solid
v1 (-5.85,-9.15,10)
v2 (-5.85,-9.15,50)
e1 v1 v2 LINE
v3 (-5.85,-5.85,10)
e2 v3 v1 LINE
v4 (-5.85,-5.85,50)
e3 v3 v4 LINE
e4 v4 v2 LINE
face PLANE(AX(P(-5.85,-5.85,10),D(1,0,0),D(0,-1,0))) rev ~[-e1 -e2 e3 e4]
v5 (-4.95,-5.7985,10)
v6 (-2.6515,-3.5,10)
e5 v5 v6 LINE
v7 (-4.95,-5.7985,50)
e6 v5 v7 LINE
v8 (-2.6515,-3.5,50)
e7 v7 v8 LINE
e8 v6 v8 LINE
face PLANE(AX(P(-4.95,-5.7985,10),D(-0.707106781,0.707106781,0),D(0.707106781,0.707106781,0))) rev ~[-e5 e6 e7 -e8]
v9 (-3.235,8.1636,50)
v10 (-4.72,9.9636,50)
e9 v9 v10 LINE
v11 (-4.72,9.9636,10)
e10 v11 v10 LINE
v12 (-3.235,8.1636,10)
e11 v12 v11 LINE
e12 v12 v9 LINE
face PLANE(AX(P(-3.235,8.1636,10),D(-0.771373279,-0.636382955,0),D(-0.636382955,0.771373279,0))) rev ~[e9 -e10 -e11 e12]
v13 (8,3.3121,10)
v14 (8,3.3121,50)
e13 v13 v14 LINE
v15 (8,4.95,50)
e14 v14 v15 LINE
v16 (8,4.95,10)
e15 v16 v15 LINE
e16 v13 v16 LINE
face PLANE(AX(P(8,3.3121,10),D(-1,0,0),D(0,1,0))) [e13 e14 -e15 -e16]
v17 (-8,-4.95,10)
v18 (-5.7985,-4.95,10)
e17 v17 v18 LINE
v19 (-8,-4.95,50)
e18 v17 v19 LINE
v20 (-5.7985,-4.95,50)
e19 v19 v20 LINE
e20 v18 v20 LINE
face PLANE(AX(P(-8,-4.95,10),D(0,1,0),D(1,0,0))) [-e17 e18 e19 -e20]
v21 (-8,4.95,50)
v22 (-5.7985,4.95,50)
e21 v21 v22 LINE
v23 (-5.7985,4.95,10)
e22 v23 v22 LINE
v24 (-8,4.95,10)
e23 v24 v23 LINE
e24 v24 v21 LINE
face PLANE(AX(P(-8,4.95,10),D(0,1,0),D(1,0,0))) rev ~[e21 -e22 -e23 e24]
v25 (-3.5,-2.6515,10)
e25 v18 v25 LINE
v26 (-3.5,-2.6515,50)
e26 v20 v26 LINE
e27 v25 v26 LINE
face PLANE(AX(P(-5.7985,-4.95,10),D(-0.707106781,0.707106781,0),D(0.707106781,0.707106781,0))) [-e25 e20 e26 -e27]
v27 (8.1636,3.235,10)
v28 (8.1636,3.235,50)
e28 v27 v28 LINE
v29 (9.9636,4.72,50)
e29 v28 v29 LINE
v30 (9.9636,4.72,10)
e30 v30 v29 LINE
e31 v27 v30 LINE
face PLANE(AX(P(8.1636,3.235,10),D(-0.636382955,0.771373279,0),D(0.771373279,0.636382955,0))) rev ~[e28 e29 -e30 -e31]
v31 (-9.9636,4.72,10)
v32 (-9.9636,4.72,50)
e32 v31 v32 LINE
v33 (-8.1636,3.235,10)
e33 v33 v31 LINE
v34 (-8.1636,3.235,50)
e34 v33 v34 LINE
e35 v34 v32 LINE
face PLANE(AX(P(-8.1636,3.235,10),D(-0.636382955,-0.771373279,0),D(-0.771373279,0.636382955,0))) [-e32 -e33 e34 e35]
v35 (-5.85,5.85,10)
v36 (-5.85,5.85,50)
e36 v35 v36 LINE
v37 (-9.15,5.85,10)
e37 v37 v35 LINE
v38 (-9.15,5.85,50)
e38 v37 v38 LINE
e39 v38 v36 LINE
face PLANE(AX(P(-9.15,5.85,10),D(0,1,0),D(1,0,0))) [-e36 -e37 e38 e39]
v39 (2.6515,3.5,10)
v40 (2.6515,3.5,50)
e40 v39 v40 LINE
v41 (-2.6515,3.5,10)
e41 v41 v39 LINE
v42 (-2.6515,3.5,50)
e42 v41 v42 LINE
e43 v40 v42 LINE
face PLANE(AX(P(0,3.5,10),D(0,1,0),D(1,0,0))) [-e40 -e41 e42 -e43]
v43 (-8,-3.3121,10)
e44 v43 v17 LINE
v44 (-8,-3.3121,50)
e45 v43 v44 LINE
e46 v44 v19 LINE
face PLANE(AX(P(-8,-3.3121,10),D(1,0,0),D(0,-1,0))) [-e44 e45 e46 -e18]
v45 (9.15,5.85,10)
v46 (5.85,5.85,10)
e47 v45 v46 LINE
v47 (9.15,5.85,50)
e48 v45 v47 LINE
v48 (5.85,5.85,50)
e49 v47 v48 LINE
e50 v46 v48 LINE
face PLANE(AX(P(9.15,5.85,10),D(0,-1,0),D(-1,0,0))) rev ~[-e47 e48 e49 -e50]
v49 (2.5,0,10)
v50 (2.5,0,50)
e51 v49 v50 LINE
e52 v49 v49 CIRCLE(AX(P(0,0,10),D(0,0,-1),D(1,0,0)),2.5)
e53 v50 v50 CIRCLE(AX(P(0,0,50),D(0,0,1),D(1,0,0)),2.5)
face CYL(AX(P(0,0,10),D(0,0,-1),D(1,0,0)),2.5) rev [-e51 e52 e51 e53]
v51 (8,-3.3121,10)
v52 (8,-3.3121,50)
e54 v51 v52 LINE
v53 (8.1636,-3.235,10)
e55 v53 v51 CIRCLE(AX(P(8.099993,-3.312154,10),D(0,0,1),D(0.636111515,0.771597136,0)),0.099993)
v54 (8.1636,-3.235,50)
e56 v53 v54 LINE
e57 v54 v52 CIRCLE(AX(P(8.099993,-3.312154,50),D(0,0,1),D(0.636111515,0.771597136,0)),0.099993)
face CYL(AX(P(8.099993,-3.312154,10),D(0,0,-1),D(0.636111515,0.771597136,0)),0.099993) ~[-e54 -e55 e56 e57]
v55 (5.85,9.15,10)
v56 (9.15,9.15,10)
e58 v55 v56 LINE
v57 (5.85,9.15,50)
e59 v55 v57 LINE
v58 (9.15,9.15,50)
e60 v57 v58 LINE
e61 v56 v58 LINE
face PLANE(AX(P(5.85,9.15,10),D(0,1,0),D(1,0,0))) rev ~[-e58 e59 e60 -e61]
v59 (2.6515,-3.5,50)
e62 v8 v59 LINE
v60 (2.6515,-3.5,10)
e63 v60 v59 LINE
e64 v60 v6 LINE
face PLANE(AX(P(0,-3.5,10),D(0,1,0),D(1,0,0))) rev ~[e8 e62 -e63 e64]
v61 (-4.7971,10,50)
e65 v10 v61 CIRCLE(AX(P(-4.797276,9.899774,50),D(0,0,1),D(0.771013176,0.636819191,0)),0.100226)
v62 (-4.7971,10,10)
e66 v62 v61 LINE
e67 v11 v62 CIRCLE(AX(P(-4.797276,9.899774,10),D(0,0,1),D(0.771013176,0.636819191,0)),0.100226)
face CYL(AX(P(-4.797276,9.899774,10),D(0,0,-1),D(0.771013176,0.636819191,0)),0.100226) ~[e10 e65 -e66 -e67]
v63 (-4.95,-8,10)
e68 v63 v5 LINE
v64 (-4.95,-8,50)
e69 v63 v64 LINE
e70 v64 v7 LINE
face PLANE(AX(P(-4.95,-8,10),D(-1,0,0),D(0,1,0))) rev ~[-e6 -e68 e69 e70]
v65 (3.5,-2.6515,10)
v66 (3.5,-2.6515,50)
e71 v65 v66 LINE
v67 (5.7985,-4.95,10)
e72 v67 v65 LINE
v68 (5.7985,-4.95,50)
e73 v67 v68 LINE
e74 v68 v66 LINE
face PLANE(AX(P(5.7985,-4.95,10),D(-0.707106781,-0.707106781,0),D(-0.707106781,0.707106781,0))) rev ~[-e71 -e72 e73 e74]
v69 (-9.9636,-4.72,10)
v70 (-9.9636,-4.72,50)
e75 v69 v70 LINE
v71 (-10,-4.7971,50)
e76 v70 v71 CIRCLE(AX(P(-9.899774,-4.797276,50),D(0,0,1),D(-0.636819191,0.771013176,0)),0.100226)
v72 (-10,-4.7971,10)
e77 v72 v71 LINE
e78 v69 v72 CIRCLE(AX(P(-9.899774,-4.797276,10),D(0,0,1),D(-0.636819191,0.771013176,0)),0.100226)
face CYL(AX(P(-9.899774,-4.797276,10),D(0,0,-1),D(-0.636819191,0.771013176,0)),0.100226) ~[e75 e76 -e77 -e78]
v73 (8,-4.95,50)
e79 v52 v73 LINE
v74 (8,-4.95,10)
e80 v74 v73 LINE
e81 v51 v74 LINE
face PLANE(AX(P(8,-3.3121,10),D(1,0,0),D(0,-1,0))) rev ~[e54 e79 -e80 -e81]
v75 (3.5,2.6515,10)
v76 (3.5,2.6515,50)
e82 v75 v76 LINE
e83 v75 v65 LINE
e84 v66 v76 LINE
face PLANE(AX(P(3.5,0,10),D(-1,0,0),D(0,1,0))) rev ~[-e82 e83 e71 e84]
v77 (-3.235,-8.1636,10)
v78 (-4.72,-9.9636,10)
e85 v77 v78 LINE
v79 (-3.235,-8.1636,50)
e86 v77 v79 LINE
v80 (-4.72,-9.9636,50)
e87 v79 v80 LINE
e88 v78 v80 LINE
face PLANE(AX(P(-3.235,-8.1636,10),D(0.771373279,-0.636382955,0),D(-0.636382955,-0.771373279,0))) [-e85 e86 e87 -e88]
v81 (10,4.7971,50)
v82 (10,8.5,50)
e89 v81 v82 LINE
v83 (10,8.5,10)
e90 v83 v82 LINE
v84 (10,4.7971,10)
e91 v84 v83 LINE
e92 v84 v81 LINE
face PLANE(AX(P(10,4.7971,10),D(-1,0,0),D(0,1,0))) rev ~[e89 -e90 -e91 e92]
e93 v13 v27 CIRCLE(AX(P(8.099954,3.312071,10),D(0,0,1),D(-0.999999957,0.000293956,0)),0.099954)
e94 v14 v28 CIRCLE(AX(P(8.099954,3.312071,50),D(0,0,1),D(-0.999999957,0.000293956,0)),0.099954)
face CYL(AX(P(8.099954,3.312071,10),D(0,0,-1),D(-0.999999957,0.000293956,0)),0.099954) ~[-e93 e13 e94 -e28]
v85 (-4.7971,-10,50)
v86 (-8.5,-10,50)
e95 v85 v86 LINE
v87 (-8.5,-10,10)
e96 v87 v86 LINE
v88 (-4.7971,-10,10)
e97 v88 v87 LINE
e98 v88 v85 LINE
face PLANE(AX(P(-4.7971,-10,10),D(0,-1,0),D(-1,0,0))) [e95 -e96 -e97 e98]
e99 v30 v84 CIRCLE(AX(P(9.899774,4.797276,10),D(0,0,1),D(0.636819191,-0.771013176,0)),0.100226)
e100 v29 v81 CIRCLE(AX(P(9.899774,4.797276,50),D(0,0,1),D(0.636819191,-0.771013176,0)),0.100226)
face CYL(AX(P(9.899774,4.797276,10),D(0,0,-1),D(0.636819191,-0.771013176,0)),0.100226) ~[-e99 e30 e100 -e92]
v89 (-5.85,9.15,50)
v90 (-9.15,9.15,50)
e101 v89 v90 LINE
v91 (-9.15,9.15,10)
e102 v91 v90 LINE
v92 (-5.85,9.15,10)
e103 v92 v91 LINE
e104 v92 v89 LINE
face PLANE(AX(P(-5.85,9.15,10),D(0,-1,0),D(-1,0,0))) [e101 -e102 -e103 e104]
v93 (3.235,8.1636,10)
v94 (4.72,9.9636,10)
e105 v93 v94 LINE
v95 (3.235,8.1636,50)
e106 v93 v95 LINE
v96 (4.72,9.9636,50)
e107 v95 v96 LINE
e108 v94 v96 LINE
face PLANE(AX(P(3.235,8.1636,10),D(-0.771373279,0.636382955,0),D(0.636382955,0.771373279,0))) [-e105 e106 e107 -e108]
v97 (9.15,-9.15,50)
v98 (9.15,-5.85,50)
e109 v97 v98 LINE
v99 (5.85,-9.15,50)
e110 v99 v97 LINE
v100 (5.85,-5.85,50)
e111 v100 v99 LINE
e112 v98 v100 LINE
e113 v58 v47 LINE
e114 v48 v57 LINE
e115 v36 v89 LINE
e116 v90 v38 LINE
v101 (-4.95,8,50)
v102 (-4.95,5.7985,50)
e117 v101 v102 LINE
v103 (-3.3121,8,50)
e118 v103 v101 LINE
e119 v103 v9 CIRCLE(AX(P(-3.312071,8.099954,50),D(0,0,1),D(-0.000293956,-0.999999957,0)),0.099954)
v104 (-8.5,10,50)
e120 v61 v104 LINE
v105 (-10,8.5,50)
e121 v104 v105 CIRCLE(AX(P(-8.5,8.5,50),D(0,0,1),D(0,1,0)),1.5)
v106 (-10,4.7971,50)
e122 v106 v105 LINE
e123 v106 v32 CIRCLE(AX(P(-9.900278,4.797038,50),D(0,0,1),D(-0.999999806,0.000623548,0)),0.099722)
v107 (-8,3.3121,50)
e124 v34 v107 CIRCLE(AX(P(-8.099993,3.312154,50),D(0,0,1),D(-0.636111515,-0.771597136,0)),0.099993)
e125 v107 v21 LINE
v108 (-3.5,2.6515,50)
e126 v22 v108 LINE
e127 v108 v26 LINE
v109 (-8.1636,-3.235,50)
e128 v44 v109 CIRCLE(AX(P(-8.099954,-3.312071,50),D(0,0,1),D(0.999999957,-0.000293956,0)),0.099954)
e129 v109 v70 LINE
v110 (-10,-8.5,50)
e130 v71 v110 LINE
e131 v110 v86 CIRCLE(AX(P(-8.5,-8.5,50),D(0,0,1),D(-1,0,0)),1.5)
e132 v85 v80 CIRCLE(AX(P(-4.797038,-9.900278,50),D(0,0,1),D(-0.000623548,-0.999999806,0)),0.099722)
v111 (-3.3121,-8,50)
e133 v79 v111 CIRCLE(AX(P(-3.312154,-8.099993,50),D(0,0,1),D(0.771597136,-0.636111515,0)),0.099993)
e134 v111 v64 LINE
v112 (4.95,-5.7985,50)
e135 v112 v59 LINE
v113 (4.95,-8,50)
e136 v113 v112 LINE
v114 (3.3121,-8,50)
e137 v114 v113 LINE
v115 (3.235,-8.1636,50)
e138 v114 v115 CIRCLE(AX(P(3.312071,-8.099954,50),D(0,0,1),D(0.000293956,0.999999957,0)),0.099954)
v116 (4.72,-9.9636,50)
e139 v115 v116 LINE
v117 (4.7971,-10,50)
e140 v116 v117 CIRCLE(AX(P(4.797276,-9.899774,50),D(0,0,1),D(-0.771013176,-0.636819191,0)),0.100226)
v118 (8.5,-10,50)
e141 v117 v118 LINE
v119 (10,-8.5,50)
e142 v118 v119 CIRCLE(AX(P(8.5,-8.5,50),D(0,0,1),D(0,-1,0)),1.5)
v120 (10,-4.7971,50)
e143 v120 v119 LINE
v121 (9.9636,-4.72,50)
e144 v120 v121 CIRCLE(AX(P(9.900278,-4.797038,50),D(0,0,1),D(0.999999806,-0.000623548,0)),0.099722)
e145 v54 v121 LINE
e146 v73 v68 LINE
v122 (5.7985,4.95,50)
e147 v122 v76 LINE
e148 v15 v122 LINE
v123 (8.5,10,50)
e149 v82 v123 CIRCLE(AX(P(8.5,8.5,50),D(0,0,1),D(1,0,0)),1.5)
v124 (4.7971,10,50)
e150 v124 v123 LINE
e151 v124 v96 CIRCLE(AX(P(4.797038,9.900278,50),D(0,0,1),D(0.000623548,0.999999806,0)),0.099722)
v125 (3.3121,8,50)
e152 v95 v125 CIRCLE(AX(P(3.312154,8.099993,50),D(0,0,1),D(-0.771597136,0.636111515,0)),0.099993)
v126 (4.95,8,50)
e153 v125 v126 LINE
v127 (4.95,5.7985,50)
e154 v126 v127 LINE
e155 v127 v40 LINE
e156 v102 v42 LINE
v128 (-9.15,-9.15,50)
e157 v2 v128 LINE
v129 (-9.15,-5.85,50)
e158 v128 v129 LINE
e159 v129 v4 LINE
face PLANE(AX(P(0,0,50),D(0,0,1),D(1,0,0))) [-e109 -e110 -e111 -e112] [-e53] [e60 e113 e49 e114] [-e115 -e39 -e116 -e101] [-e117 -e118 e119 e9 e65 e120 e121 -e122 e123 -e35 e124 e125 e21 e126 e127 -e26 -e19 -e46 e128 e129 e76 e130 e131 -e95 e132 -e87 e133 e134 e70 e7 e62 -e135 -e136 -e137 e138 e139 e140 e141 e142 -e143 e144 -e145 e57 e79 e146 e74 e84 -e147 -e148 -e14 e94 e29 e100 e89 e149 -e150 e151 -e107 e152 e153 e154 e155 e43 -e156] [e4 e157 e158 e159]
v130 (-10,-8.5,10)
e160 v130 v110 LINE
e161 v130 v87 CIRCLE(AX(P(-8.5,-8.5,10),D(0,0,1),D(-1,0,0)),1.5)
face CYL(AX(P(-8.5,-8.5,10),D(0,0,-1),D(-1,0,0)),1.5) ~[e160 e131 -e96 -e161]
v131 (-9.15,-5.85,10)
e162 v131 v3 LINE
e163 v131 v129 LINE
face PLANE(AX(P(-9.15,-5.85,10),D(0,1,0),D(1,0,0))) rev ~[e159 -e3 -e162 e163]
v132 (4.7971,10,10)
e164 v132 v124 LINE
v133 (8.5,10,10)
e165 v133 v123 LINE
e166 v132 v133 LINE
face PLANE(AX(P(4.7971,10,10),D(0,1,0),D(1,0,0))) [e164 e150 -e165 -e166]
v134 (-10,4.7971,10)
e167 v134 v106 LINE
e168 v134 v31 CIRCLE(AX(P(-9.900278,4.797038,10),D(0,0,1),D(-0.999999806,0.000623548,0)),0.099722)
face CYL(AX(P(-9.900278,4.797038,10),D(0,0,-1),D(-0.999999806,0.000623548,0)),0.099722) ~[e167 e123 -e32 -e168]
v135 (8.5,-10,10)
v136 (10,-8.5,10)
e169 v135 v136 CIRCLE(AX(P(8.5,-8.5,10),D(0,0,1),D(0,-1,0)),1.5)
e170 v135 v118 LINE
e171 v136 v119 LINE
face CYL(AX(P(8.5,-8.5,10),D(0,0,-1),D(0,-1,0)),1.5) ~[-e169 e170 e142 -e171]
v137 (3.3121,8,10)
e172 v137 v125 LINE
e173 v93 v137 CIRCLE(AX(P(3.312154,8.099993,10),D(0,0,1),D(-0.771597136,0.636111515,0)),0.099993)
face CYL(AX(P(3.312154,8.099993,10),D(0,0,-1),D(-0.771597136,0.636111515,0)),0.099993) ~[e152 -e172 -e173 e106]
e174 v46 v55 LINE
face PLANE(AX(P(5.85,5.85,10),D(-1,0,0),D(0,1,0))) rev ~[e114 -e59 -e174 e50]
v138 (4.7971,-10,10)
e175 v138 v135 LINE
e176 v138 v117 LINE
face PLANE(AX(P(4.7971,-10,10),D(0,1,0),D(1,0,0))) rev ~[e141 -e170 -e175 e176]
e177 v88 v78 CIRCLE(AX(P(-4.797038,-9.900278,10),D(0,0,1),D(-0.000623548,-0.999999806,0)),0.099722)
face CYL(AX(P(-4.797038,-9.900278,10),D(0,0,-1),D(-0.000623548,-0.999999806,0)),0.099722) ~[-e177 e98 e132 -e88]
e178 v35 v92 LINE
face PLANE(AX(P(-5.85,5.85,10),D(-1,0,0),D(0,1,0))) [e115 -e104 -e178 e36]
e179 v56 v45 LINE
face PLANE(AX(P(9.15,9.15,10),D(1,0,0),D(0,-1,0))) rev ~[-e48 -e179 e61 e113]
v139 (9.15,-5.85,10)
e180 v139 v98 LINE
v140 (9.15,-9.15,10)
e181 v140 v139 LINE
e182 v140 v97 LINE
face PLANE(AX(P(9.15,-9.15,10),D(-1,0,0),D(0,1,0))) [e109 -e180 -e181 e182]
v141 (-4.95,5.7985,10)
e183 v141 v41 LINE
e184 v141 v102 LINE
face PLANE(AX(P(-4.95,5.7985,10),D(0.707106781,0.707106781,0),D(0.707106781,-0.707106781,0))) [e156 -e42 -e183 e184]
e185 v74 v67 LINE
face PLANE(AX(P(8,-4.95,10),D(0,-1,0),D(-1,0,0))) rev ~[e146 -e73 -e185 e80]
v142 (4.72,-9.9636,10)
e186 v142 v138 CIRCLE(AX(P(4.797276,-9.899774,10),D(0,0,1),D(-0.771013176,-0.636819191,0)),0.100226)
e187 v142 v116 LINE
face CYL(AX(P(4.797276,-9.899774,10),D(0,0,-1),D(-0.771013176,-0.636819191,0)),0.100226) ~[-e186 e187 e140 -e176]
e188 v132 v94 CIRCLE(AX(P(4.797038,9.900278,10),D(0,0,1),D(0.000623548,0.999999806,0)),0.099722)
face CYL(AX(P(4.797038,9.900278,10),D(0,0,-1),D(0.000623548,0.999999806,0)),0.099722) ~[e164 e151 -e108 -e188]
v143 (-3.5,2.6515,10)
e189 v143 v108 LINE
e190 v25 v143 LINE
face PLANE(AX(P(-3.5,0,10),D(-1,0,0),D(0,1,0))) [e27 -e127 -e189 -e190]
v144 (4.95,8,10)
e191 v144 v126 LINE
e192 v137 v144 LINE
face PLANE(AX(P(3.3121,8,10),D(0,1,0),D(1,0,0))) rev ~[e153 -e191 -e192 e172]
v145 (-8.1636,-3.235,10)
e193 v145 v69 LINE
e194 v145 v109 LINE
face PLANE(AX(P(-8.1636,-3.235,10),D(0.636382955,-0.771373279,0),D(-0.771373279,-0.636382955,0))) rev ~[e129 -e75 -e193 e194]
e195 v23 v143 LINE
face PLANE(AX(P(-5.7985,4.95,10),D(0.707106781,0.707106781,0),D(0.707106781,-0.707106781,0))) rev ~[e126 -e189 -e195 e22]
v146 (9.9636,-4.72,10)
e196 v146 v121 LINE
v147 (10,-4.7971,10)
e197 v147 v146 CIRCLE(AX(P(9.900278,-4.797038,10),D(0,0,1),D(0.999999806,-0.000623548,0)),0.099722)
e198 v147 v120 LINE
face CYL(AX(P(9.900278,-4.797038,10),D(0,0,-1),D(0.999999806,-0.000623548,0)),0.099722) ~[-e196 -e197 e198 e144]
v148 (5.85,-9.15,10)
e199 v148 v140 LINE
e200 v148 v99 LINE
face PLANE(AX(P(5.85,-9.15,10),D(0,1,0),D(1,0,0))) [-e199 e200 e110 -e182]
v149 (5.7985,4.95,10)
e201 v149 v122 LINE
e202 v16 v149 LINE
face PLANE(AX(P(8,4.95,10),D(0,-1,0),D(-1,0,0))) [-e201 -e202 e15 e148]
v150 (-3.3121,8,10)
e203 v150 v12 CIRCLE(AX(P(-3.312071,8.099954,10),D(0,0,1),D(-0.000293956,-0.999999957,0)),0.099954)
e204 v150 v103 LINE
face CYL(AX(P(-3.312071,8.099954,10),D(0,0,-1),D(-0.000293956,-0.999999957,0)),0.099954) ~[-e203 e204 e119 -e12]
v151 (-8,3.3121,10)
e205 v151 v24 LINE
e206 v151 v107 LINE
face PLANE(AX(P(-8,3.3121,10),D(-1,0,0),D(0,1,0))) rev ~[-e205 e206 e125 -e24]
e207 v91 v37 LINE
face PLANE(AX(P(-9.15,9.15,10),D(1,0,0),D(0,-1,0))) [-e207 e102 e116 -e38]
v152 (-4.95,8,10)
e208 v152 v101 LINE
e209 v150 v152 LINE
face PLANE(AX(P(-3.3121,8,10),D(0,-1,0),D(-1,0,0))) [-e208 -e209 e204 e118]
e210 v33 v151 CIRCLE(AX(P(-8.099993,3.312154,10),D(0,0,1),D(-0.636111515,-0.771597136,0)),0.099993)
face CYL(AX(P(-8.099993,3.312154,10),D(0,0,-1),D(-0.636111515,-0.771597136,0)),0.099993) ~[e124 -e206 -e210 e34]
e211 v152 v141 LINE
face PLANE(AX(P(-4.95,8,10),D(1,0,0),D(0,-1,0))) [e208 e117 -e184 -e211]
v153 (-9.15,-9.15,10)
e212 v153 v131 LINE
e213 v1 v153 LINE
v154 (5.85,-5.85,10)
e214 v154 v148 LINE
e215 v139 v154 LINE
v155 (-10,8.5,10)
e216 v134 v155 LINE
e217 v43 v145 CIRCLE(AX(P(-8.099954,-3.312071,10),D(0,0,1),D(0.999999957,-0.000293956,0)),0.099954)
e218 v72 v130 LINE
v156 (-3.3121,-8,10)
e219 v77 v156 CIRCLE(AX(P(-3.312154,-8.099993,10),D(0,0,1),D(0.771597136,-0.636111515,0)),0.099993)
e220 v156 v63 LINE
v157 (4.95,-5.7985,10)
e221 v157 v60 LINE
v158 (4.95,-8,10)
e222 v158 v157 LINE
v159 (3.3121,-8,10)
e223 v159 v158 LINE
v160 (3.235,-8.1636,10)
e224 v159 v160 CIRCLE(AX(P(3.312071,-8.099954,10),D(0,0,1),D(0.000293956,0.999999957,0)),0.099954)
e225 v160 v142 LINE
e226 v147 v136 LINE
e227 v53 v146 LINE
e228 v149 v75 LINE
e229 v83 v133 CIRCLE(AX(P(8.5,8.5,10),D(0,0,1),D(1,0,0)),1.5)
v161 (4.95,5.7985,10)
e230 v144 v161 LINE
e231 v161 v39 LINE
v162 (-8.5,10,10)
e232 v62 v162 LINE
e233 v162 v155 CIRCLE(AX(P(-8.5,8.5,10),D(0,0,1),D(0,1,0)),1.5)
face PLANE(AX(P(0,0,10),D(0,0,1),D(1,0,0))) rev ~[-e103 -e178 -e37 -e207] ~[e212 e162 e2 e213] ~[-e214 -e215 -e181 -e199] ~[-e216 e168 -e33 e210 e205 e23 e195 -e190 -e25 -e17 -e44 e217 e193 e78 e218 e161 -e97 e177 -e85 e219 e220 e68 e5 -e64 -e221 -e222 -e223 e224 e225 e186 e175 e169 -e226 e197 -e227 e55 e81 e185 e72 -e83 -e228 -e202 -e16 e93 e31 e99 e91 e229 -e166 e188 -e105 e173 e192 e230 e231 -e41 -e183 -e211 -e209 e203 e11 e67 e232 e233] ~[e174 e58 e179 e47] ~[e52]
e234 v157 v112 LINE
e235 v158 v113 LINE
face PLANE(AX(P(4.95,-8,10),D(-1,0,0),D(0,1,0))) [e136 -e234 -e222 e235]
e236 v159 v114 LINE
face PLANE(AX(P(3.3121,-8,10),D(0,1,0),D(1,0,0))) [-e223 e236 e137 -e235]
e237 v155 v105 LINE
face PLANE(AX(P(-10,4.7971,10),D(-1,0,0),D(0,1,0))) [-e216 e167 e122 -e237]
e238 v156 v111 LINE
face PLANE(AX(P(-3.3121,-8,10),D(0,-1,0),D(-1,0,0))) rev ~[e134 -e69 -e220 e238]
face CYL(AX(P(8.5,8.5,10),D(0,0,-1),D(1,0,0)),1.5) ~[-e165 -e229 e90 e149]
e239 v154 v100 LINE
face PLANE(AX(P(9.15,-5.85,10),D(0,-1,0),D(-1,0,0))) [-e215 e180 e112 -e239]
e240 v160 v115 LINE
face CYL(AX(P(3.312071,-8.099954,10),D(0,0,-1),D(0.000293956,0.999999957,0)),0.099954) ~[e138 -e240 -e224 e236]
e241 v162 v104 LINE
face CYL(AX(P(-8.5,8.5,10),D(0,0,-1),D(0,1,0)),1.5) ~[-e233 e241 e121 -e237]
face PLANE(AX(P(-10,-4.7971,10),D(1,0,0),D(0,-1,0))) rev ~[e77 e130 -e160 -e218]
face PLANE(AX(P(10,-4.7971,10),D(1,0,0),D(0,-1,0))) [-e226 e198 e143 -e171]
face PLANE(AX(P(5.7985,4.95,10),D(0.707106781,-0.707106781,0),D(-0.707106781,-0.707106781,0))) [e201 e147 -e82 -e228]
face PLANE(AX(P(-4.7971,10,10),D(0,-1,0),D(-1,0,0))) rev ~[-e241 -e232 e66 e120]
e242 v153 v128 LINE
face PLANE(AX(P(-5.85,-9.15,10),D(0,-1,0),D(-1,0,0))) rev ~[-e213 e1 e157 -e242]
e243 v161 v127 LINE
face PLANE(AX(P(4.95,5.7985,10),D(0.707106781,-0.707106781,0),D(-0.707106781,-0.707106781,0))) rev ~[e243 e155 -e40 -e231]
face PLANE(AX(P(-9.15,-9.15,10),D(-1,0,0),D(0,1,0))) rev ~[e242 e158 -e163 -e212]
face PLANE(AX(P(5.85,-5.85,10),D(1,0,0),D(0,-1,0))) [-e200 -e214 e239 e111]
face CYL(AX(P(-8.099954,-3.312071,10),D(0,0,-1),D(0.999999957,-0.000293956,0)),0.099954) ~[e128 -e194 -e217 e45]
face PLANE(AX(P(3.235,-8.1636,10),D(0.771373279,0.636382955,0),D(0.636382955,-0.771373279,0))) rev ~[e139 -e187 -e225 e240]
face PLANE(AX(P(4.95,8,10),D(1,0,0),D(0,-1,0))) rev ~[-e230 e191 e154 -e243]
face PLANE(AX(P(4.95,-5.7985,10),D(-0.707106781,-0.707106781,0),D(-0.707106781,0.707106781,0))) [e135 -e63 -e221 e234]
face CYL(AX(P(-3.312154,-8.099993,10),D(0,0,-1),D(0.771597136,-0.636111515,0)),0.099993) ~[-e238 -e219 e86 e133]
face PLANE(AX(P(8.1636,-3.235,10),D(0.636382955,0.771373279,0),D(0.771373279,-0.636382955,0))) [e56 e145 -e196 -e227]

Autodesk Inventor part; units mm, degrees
ref_plane "Начальная плоскость" through (0, 0, 10) normal (0, 0, 1) x (1, 0, 0)
ref_plane "Конечная плоскость" through (0, 0, 50) normal (0, 0, 1) x (1, 0, 0)
sketch "Эскиз" plane through (0, 0, 0) normal (0, 0, 1) x (1, 0, 0)
  line L0 (-14.4349, 0) -> (14.4349, 0) projected
  line L1 (0, -14) -> (0, 14) projected
  line L2 (0, 0) -> (7.5, 7.5) construction
  circle A0 centre (7.5, 7.5) radius 1.65 construction
  line L3 (5.85, 9.15) -> (9.15, 9.15)
  line L4 (9.15, 9.15) -> (9.15, 5.85)
  line L5 (9.15, 5.85) -> (5.85, 5.85)
  line L6 (5.85, 5.85) -> (5.85, 9.15)
  line L7 (3.235, 8.1636) -> (4.72, 9.9636)
  line L8 (4.7971, 10) -> (8.5, 10)
  line L9 (3.3121, 8) -> (4.95, 8)
  line L10 (4.95, 8) -> (4.95, 5.7985)
  line L11 (4.95, 5.7985) -> (2.6515, 3.5)
  line L12 (0, 3.5) -> (2.6515, 3.5)
  circle A1 centre (0, 0) radius 2.5
  line L13 (8.1636, 3.235) -> (9.9636, 4.72)
  line L14 (10, 4.7971) -> (10, 8.5)
  line L15 (8, 3.3121) -> (8, 4.95)
  line L16 (8, 4.95) -> (5.7985, 4.95)
  line L17 (5.7985, 4.95) -> (3.5, 2.6515)
  line L18 (3.5, 0) -> (3.5, 2.6515)
  arc A2 (10, 8.5) -> (8.5, 10) centre (8.5, 8.5) ccw
  line L19 (0, 0) -> (-7.5, 7.5) construction
  circle A3 centre (-7.5, 7.5) radius 1.65 construction
  line L20 (-5.85, 9.15) -> (-9.15, 9.15)
  line L21 (-9.15, 9.15) -> (-9.15, 5.85)
  line L22 (-9.15, 5.85) -> (-5.85, 5.85)
  line L23 (-5.85, 5.85) -> (-5.85, 9.15)
  line L24 (-3.235, 8.1636) -> (-4.72, 9.9636)
  line L25 (-4.7971, 10) -> (-8.5, 10)
  line L26 (-3.3121, 8) -> (-4.95, 8)
  line L27 (-4.95, 8) -> (-4.95, 5.7985)
  line L28 (-4.95, 5.7985) -> (-2.6515, 3.5)
  line L29 (0, 3.5) -> (-2.6515, 3.5)
  line L30 (-3.5, 0) -> (-3.5, 2.6515)
  line L31 (-5.7985, 4.95) -> (-3.5, 2.6515)
  line L32 (-8, 4.95) -> (-5.7985, 4.95)
  line L33 (-8, 3.3121) -> (-8, 4.95)
  line L34 (-8.1636, 3.235) -> (-9.9636, 4.72)
  line L35 (-10, 4.7971) -> (-10, 8.5)
  arc A4 (-8.5, 10) -> (-10, 8.5) centre (-8.5, 8.5) ccw
  line L36 (0, 14) -> (0, -14)
  line L37 (0, 0) -> (7.5, -7.5) construction
  circle A5 centre (7.5, -7.5) radius 1.65 construction
  line L38 (5.85, -9.15) -> (9.15, -9.15)
  line L39 (9.15, -9.15) -> (9.15, -5.85)
  line L40 (9.15, -5.85) -> (5.85, -5.85)
  line L41 (5.85, -5.85) -> (5.85, -9.15)
  line L42 (3.235, -8.1636) -> (4.72, -9.9636)
  line L43 (4.7971, -10) -> (8.5, -10)
  line L44 (3.3121, -8) -> (4.95, -8)
  line L45 (4.95, -8) -> (4.95, -5.7985)
  line L46 (4.95, -5.7985) -> (2.6515, -3.5)
  line L47 (0, -3.5) -> (2.6515, -3.5)
  line L48 (3.5, 0) -> (3.5, -2.6515)
  line L49 (5.7985, -4.95) -> (3.5, -2.6515)
  line L50 (8, -4.95) -> (5.7985, -4.95)
  line L51 (8, -3.3121) -> (8, -4.95)
  line L52 (8.1636, -3.235) -> (9.9636, -4.72)
  line L53 (10, -4.7971) -> (10, -8.5)
  arc A6 (8.5, -10) -> (10, -8.5) centre (8.5, -8.5) ccw
  line L54 (0, 0) -> (-7.5, -7.5) construction
  line L55 (-4.95, -8) -> (-4.95, -5.7985)
  line L56 (-3.3121, -8) -> (-4.95, -8)
  line L57 (-5.7985, -4.95) -> (-3.5, -2.6515)
  line L58 (-4.95, -5.7985) -> (-2.6515, -3.5)
  line L59 (-3.5, 0) -> (-3.5, -2.6515)
  line L60 (0, -3.5) -> (-2.6515, -3.5)
  circle A7 centre (-7.5, -7.5) radius 1.65 construction
  line L61 (-5.85, -5.85) -> (-5.85, -9.15)
  line L62 (-5.85, -9.15) -> (-9.15, -9.15)
  line L63 (-9.15, -9.15) -> (-9.15, -5.85)
  line L64 (-9.15, -5.85) -> (-5.85, -5.85)
  line L65 (-3.235, -8.1636) -> (-4.72, -9.9636)
  line L66 (-8, -4.95) -> (-5.7985, -4.95)
  line L67 (-8, -3.3121) -> (-8, -4.95)
  line L68 (-8.1636, -3.235) -> (-9.9636, -4.72)
  line L69 (-4.7971, -10) -> (-8.5, -10)
  line L70 (-10, -4.7971) -> (-10, -8.5)
  arc A8 (-10, -8.5) -> (-8.5, -10) centre (-8.5, -8.5) ccw
  arc A9 (3.235, 8.1636) -> (3.3121, 8) centre (3.3121, 8.1) ccw
  arc A10 (4.7971, 10) -> (4.72, 9.9636) centre (4.7971, 9.9) ccw
  arc A11 (8, 3.3121) -> (8.1636, 3.235) centre (8.1, 3.3121) ccw
  arc A12 (9.9636, 4.72) -> (10, 4.7971) centre (9.9, 4.7971) ccw
  arc A13 (-3.3121, 8) -> (-3.235, 8.1636) centre (-3.3121, 8.1) ccw
  arc A14 (-4.72, 9.9636) -> (-4.7971, 10) centre (-4.7971, 9.9) ccw
  arc A15 (-8.1636, 3.235) -> (-8, 3.3121) centre (-8.1, 3.3121) ccw
  arc A16 (-10, 4.7971) -> (-9.9636, 4.72) centre (-9.9, 4.7971) ccw
  arc A17 (-8, -3.3121) -> (-8.1636, -3.235) centre (-8.1, -3.3121) ccw
  arc A18 (-9.9636, -4.72) -> (-10, -4.7971) centre (-9.9, -4.7971) ccw
  arc A19 (-3.235, -8.1636) -> (-3.3121, -8) centre (-3.3121, -8.1) ccw
  arc A20 (-4.7971, -10) -> (-4.72, -9.9636) centre (-4.7971, -9.9) ccw
  arc A21 (4.72, -9.9636) -> (4.7971, -10) centre (4.7971, -9.9) ccw
  arc A22 (3.3121, -8) -> (3.235, -8.1636) centre (3.3121, -8.1) ccw
  arc A23 (8.1636, -3.235) -> (8, -3.3121) centre (8.1, -3.3121) ccw
  arc A24 (10, -4.7971) -> (9.9636, -4.72) centre (9.9, -4.7971) ccw
  point P0 (3.1, 8)
  point P1 (4.75, 10)
  point P2 (7.5, 9.15)
  point P3 (8, 3.1)
  point P4 (10, 4.75)
  point P5 (7.5, 5.85)
  point P6 (9.15, 7.5)
  point P7 (-3.1, 8)
  point P8 (-4.75, 10)
  point P9 (-7.5, 9.15)
  point P10 (-8, 3.1)
  point P11 (-10, 4.75)
  point P12 (-7.5, 5.85)
  point P13 (-9.15, 7.5)
  point P14 (3.1, -8)
  point P15 (4.75, -10)
  point P16 (7.5, -9.15)
  point P17 (8, -3.1)
  point P18 (10, -4.75)
  point P19 (7.5, -5.85)
  point P20 (9.15, -7.5)
  point P21 (-3.1, -8)
  point P22 (-7.5, -5.85)
  point P23 (-7.5, -9.15)
  point P24 (-9.15, -7.5)
  point P25 (-4.75, -10)
  point P26 (-8, -3.1)
  point P27 (-10, -4.75)
  dimension "d0" = 45
  dimension "d1" = 3.3
  dimension "d2" = 1.5
  dimension "d3" = 1.2
  dimension "d4" = 5
  dimension "d5" = 6.5
  dimension "d6" = 15
  dimension "d7" = 20
  dimension "d8" = 9.9
  dimension "d9" = 9.5
  dimension "d10" = 6.2
  dimension "d11" = 2
  dimension "d18" = 0.1
  dimension "d19" = 0.1
extrude "Тело" add sketch "Эскиз" along normal up to surface (40 mm away) from surface at 10 contours A1 L1 L12 L11 L10 L9 A9 L7 A10 L8 A2 L14 A12 L13 A11 L15 L16 L17 L18 L0 | L0 L48 L49 L50 L51 A23 L52 A24 L53 A6 L43 A21 L42 A22 L44 L45 L46 L47 L1 A1 | A1 L0 L30 L31 L32 L33 A15 L34 A16 L35 A4 L25 A14 L24 A13 L26 L27 L28 L29 L1 | L1 L60 L58 L55 L56 A19 L65 A20 L69 A8 L70 A18 L68 A17 L67 L66 L57 L59 L0 A1
sketch "Эскиз2" plane through (0, 0, 0) normal (0, 0, 1) x (1, 0, 0)
  line L0 (0, 0) -> (10, 0)
ref_plane "РабПлоскость3" through (0, 0, 0) normal (0, -1, 0) x (1, 0, 0)
sketch "Эскиз3" plane through (0, 0, 0) normal (0, -1, 0) x (1, 0, 0)
  line L0 (-2, 10) -> (12, 10)
  line L1 (-2, 50) -> (12, 50)
  dimension "d25" = 40
ref_plane "РабПлоскость4" through (-10, 0, 10) normal (0, 0, -1) x (-1, 0, 0)
split "Разделение1" plane through (-10, 0, 10) removes the side toward (0, 0, -1)
ref_plane "РабПлоскость5" through (0, -600, 10) normal (0, 0, -1) x (-1, 0, 0)
split "Разделение2" plane through (0, -600, 10) removes the side toward (0, 0, -1)
ref_plane "РабПлоскость6" through (-10, 0, 50) normal (0, 0, 1) x (1, 0, 0)
split "Разделение3" plane through (-10, 0, 50) removes the side toward (0, 0, 1)
ref_plane "РабПлоскость7" through (0, -10, 50) normal (0, 0, 1) x (1, 0, 0)
split "Разделение4" plane through (0, -10, 50) removes the side toward (0, 0, 1)
properties part number "короткая палка" material "Алюминий 6061"
